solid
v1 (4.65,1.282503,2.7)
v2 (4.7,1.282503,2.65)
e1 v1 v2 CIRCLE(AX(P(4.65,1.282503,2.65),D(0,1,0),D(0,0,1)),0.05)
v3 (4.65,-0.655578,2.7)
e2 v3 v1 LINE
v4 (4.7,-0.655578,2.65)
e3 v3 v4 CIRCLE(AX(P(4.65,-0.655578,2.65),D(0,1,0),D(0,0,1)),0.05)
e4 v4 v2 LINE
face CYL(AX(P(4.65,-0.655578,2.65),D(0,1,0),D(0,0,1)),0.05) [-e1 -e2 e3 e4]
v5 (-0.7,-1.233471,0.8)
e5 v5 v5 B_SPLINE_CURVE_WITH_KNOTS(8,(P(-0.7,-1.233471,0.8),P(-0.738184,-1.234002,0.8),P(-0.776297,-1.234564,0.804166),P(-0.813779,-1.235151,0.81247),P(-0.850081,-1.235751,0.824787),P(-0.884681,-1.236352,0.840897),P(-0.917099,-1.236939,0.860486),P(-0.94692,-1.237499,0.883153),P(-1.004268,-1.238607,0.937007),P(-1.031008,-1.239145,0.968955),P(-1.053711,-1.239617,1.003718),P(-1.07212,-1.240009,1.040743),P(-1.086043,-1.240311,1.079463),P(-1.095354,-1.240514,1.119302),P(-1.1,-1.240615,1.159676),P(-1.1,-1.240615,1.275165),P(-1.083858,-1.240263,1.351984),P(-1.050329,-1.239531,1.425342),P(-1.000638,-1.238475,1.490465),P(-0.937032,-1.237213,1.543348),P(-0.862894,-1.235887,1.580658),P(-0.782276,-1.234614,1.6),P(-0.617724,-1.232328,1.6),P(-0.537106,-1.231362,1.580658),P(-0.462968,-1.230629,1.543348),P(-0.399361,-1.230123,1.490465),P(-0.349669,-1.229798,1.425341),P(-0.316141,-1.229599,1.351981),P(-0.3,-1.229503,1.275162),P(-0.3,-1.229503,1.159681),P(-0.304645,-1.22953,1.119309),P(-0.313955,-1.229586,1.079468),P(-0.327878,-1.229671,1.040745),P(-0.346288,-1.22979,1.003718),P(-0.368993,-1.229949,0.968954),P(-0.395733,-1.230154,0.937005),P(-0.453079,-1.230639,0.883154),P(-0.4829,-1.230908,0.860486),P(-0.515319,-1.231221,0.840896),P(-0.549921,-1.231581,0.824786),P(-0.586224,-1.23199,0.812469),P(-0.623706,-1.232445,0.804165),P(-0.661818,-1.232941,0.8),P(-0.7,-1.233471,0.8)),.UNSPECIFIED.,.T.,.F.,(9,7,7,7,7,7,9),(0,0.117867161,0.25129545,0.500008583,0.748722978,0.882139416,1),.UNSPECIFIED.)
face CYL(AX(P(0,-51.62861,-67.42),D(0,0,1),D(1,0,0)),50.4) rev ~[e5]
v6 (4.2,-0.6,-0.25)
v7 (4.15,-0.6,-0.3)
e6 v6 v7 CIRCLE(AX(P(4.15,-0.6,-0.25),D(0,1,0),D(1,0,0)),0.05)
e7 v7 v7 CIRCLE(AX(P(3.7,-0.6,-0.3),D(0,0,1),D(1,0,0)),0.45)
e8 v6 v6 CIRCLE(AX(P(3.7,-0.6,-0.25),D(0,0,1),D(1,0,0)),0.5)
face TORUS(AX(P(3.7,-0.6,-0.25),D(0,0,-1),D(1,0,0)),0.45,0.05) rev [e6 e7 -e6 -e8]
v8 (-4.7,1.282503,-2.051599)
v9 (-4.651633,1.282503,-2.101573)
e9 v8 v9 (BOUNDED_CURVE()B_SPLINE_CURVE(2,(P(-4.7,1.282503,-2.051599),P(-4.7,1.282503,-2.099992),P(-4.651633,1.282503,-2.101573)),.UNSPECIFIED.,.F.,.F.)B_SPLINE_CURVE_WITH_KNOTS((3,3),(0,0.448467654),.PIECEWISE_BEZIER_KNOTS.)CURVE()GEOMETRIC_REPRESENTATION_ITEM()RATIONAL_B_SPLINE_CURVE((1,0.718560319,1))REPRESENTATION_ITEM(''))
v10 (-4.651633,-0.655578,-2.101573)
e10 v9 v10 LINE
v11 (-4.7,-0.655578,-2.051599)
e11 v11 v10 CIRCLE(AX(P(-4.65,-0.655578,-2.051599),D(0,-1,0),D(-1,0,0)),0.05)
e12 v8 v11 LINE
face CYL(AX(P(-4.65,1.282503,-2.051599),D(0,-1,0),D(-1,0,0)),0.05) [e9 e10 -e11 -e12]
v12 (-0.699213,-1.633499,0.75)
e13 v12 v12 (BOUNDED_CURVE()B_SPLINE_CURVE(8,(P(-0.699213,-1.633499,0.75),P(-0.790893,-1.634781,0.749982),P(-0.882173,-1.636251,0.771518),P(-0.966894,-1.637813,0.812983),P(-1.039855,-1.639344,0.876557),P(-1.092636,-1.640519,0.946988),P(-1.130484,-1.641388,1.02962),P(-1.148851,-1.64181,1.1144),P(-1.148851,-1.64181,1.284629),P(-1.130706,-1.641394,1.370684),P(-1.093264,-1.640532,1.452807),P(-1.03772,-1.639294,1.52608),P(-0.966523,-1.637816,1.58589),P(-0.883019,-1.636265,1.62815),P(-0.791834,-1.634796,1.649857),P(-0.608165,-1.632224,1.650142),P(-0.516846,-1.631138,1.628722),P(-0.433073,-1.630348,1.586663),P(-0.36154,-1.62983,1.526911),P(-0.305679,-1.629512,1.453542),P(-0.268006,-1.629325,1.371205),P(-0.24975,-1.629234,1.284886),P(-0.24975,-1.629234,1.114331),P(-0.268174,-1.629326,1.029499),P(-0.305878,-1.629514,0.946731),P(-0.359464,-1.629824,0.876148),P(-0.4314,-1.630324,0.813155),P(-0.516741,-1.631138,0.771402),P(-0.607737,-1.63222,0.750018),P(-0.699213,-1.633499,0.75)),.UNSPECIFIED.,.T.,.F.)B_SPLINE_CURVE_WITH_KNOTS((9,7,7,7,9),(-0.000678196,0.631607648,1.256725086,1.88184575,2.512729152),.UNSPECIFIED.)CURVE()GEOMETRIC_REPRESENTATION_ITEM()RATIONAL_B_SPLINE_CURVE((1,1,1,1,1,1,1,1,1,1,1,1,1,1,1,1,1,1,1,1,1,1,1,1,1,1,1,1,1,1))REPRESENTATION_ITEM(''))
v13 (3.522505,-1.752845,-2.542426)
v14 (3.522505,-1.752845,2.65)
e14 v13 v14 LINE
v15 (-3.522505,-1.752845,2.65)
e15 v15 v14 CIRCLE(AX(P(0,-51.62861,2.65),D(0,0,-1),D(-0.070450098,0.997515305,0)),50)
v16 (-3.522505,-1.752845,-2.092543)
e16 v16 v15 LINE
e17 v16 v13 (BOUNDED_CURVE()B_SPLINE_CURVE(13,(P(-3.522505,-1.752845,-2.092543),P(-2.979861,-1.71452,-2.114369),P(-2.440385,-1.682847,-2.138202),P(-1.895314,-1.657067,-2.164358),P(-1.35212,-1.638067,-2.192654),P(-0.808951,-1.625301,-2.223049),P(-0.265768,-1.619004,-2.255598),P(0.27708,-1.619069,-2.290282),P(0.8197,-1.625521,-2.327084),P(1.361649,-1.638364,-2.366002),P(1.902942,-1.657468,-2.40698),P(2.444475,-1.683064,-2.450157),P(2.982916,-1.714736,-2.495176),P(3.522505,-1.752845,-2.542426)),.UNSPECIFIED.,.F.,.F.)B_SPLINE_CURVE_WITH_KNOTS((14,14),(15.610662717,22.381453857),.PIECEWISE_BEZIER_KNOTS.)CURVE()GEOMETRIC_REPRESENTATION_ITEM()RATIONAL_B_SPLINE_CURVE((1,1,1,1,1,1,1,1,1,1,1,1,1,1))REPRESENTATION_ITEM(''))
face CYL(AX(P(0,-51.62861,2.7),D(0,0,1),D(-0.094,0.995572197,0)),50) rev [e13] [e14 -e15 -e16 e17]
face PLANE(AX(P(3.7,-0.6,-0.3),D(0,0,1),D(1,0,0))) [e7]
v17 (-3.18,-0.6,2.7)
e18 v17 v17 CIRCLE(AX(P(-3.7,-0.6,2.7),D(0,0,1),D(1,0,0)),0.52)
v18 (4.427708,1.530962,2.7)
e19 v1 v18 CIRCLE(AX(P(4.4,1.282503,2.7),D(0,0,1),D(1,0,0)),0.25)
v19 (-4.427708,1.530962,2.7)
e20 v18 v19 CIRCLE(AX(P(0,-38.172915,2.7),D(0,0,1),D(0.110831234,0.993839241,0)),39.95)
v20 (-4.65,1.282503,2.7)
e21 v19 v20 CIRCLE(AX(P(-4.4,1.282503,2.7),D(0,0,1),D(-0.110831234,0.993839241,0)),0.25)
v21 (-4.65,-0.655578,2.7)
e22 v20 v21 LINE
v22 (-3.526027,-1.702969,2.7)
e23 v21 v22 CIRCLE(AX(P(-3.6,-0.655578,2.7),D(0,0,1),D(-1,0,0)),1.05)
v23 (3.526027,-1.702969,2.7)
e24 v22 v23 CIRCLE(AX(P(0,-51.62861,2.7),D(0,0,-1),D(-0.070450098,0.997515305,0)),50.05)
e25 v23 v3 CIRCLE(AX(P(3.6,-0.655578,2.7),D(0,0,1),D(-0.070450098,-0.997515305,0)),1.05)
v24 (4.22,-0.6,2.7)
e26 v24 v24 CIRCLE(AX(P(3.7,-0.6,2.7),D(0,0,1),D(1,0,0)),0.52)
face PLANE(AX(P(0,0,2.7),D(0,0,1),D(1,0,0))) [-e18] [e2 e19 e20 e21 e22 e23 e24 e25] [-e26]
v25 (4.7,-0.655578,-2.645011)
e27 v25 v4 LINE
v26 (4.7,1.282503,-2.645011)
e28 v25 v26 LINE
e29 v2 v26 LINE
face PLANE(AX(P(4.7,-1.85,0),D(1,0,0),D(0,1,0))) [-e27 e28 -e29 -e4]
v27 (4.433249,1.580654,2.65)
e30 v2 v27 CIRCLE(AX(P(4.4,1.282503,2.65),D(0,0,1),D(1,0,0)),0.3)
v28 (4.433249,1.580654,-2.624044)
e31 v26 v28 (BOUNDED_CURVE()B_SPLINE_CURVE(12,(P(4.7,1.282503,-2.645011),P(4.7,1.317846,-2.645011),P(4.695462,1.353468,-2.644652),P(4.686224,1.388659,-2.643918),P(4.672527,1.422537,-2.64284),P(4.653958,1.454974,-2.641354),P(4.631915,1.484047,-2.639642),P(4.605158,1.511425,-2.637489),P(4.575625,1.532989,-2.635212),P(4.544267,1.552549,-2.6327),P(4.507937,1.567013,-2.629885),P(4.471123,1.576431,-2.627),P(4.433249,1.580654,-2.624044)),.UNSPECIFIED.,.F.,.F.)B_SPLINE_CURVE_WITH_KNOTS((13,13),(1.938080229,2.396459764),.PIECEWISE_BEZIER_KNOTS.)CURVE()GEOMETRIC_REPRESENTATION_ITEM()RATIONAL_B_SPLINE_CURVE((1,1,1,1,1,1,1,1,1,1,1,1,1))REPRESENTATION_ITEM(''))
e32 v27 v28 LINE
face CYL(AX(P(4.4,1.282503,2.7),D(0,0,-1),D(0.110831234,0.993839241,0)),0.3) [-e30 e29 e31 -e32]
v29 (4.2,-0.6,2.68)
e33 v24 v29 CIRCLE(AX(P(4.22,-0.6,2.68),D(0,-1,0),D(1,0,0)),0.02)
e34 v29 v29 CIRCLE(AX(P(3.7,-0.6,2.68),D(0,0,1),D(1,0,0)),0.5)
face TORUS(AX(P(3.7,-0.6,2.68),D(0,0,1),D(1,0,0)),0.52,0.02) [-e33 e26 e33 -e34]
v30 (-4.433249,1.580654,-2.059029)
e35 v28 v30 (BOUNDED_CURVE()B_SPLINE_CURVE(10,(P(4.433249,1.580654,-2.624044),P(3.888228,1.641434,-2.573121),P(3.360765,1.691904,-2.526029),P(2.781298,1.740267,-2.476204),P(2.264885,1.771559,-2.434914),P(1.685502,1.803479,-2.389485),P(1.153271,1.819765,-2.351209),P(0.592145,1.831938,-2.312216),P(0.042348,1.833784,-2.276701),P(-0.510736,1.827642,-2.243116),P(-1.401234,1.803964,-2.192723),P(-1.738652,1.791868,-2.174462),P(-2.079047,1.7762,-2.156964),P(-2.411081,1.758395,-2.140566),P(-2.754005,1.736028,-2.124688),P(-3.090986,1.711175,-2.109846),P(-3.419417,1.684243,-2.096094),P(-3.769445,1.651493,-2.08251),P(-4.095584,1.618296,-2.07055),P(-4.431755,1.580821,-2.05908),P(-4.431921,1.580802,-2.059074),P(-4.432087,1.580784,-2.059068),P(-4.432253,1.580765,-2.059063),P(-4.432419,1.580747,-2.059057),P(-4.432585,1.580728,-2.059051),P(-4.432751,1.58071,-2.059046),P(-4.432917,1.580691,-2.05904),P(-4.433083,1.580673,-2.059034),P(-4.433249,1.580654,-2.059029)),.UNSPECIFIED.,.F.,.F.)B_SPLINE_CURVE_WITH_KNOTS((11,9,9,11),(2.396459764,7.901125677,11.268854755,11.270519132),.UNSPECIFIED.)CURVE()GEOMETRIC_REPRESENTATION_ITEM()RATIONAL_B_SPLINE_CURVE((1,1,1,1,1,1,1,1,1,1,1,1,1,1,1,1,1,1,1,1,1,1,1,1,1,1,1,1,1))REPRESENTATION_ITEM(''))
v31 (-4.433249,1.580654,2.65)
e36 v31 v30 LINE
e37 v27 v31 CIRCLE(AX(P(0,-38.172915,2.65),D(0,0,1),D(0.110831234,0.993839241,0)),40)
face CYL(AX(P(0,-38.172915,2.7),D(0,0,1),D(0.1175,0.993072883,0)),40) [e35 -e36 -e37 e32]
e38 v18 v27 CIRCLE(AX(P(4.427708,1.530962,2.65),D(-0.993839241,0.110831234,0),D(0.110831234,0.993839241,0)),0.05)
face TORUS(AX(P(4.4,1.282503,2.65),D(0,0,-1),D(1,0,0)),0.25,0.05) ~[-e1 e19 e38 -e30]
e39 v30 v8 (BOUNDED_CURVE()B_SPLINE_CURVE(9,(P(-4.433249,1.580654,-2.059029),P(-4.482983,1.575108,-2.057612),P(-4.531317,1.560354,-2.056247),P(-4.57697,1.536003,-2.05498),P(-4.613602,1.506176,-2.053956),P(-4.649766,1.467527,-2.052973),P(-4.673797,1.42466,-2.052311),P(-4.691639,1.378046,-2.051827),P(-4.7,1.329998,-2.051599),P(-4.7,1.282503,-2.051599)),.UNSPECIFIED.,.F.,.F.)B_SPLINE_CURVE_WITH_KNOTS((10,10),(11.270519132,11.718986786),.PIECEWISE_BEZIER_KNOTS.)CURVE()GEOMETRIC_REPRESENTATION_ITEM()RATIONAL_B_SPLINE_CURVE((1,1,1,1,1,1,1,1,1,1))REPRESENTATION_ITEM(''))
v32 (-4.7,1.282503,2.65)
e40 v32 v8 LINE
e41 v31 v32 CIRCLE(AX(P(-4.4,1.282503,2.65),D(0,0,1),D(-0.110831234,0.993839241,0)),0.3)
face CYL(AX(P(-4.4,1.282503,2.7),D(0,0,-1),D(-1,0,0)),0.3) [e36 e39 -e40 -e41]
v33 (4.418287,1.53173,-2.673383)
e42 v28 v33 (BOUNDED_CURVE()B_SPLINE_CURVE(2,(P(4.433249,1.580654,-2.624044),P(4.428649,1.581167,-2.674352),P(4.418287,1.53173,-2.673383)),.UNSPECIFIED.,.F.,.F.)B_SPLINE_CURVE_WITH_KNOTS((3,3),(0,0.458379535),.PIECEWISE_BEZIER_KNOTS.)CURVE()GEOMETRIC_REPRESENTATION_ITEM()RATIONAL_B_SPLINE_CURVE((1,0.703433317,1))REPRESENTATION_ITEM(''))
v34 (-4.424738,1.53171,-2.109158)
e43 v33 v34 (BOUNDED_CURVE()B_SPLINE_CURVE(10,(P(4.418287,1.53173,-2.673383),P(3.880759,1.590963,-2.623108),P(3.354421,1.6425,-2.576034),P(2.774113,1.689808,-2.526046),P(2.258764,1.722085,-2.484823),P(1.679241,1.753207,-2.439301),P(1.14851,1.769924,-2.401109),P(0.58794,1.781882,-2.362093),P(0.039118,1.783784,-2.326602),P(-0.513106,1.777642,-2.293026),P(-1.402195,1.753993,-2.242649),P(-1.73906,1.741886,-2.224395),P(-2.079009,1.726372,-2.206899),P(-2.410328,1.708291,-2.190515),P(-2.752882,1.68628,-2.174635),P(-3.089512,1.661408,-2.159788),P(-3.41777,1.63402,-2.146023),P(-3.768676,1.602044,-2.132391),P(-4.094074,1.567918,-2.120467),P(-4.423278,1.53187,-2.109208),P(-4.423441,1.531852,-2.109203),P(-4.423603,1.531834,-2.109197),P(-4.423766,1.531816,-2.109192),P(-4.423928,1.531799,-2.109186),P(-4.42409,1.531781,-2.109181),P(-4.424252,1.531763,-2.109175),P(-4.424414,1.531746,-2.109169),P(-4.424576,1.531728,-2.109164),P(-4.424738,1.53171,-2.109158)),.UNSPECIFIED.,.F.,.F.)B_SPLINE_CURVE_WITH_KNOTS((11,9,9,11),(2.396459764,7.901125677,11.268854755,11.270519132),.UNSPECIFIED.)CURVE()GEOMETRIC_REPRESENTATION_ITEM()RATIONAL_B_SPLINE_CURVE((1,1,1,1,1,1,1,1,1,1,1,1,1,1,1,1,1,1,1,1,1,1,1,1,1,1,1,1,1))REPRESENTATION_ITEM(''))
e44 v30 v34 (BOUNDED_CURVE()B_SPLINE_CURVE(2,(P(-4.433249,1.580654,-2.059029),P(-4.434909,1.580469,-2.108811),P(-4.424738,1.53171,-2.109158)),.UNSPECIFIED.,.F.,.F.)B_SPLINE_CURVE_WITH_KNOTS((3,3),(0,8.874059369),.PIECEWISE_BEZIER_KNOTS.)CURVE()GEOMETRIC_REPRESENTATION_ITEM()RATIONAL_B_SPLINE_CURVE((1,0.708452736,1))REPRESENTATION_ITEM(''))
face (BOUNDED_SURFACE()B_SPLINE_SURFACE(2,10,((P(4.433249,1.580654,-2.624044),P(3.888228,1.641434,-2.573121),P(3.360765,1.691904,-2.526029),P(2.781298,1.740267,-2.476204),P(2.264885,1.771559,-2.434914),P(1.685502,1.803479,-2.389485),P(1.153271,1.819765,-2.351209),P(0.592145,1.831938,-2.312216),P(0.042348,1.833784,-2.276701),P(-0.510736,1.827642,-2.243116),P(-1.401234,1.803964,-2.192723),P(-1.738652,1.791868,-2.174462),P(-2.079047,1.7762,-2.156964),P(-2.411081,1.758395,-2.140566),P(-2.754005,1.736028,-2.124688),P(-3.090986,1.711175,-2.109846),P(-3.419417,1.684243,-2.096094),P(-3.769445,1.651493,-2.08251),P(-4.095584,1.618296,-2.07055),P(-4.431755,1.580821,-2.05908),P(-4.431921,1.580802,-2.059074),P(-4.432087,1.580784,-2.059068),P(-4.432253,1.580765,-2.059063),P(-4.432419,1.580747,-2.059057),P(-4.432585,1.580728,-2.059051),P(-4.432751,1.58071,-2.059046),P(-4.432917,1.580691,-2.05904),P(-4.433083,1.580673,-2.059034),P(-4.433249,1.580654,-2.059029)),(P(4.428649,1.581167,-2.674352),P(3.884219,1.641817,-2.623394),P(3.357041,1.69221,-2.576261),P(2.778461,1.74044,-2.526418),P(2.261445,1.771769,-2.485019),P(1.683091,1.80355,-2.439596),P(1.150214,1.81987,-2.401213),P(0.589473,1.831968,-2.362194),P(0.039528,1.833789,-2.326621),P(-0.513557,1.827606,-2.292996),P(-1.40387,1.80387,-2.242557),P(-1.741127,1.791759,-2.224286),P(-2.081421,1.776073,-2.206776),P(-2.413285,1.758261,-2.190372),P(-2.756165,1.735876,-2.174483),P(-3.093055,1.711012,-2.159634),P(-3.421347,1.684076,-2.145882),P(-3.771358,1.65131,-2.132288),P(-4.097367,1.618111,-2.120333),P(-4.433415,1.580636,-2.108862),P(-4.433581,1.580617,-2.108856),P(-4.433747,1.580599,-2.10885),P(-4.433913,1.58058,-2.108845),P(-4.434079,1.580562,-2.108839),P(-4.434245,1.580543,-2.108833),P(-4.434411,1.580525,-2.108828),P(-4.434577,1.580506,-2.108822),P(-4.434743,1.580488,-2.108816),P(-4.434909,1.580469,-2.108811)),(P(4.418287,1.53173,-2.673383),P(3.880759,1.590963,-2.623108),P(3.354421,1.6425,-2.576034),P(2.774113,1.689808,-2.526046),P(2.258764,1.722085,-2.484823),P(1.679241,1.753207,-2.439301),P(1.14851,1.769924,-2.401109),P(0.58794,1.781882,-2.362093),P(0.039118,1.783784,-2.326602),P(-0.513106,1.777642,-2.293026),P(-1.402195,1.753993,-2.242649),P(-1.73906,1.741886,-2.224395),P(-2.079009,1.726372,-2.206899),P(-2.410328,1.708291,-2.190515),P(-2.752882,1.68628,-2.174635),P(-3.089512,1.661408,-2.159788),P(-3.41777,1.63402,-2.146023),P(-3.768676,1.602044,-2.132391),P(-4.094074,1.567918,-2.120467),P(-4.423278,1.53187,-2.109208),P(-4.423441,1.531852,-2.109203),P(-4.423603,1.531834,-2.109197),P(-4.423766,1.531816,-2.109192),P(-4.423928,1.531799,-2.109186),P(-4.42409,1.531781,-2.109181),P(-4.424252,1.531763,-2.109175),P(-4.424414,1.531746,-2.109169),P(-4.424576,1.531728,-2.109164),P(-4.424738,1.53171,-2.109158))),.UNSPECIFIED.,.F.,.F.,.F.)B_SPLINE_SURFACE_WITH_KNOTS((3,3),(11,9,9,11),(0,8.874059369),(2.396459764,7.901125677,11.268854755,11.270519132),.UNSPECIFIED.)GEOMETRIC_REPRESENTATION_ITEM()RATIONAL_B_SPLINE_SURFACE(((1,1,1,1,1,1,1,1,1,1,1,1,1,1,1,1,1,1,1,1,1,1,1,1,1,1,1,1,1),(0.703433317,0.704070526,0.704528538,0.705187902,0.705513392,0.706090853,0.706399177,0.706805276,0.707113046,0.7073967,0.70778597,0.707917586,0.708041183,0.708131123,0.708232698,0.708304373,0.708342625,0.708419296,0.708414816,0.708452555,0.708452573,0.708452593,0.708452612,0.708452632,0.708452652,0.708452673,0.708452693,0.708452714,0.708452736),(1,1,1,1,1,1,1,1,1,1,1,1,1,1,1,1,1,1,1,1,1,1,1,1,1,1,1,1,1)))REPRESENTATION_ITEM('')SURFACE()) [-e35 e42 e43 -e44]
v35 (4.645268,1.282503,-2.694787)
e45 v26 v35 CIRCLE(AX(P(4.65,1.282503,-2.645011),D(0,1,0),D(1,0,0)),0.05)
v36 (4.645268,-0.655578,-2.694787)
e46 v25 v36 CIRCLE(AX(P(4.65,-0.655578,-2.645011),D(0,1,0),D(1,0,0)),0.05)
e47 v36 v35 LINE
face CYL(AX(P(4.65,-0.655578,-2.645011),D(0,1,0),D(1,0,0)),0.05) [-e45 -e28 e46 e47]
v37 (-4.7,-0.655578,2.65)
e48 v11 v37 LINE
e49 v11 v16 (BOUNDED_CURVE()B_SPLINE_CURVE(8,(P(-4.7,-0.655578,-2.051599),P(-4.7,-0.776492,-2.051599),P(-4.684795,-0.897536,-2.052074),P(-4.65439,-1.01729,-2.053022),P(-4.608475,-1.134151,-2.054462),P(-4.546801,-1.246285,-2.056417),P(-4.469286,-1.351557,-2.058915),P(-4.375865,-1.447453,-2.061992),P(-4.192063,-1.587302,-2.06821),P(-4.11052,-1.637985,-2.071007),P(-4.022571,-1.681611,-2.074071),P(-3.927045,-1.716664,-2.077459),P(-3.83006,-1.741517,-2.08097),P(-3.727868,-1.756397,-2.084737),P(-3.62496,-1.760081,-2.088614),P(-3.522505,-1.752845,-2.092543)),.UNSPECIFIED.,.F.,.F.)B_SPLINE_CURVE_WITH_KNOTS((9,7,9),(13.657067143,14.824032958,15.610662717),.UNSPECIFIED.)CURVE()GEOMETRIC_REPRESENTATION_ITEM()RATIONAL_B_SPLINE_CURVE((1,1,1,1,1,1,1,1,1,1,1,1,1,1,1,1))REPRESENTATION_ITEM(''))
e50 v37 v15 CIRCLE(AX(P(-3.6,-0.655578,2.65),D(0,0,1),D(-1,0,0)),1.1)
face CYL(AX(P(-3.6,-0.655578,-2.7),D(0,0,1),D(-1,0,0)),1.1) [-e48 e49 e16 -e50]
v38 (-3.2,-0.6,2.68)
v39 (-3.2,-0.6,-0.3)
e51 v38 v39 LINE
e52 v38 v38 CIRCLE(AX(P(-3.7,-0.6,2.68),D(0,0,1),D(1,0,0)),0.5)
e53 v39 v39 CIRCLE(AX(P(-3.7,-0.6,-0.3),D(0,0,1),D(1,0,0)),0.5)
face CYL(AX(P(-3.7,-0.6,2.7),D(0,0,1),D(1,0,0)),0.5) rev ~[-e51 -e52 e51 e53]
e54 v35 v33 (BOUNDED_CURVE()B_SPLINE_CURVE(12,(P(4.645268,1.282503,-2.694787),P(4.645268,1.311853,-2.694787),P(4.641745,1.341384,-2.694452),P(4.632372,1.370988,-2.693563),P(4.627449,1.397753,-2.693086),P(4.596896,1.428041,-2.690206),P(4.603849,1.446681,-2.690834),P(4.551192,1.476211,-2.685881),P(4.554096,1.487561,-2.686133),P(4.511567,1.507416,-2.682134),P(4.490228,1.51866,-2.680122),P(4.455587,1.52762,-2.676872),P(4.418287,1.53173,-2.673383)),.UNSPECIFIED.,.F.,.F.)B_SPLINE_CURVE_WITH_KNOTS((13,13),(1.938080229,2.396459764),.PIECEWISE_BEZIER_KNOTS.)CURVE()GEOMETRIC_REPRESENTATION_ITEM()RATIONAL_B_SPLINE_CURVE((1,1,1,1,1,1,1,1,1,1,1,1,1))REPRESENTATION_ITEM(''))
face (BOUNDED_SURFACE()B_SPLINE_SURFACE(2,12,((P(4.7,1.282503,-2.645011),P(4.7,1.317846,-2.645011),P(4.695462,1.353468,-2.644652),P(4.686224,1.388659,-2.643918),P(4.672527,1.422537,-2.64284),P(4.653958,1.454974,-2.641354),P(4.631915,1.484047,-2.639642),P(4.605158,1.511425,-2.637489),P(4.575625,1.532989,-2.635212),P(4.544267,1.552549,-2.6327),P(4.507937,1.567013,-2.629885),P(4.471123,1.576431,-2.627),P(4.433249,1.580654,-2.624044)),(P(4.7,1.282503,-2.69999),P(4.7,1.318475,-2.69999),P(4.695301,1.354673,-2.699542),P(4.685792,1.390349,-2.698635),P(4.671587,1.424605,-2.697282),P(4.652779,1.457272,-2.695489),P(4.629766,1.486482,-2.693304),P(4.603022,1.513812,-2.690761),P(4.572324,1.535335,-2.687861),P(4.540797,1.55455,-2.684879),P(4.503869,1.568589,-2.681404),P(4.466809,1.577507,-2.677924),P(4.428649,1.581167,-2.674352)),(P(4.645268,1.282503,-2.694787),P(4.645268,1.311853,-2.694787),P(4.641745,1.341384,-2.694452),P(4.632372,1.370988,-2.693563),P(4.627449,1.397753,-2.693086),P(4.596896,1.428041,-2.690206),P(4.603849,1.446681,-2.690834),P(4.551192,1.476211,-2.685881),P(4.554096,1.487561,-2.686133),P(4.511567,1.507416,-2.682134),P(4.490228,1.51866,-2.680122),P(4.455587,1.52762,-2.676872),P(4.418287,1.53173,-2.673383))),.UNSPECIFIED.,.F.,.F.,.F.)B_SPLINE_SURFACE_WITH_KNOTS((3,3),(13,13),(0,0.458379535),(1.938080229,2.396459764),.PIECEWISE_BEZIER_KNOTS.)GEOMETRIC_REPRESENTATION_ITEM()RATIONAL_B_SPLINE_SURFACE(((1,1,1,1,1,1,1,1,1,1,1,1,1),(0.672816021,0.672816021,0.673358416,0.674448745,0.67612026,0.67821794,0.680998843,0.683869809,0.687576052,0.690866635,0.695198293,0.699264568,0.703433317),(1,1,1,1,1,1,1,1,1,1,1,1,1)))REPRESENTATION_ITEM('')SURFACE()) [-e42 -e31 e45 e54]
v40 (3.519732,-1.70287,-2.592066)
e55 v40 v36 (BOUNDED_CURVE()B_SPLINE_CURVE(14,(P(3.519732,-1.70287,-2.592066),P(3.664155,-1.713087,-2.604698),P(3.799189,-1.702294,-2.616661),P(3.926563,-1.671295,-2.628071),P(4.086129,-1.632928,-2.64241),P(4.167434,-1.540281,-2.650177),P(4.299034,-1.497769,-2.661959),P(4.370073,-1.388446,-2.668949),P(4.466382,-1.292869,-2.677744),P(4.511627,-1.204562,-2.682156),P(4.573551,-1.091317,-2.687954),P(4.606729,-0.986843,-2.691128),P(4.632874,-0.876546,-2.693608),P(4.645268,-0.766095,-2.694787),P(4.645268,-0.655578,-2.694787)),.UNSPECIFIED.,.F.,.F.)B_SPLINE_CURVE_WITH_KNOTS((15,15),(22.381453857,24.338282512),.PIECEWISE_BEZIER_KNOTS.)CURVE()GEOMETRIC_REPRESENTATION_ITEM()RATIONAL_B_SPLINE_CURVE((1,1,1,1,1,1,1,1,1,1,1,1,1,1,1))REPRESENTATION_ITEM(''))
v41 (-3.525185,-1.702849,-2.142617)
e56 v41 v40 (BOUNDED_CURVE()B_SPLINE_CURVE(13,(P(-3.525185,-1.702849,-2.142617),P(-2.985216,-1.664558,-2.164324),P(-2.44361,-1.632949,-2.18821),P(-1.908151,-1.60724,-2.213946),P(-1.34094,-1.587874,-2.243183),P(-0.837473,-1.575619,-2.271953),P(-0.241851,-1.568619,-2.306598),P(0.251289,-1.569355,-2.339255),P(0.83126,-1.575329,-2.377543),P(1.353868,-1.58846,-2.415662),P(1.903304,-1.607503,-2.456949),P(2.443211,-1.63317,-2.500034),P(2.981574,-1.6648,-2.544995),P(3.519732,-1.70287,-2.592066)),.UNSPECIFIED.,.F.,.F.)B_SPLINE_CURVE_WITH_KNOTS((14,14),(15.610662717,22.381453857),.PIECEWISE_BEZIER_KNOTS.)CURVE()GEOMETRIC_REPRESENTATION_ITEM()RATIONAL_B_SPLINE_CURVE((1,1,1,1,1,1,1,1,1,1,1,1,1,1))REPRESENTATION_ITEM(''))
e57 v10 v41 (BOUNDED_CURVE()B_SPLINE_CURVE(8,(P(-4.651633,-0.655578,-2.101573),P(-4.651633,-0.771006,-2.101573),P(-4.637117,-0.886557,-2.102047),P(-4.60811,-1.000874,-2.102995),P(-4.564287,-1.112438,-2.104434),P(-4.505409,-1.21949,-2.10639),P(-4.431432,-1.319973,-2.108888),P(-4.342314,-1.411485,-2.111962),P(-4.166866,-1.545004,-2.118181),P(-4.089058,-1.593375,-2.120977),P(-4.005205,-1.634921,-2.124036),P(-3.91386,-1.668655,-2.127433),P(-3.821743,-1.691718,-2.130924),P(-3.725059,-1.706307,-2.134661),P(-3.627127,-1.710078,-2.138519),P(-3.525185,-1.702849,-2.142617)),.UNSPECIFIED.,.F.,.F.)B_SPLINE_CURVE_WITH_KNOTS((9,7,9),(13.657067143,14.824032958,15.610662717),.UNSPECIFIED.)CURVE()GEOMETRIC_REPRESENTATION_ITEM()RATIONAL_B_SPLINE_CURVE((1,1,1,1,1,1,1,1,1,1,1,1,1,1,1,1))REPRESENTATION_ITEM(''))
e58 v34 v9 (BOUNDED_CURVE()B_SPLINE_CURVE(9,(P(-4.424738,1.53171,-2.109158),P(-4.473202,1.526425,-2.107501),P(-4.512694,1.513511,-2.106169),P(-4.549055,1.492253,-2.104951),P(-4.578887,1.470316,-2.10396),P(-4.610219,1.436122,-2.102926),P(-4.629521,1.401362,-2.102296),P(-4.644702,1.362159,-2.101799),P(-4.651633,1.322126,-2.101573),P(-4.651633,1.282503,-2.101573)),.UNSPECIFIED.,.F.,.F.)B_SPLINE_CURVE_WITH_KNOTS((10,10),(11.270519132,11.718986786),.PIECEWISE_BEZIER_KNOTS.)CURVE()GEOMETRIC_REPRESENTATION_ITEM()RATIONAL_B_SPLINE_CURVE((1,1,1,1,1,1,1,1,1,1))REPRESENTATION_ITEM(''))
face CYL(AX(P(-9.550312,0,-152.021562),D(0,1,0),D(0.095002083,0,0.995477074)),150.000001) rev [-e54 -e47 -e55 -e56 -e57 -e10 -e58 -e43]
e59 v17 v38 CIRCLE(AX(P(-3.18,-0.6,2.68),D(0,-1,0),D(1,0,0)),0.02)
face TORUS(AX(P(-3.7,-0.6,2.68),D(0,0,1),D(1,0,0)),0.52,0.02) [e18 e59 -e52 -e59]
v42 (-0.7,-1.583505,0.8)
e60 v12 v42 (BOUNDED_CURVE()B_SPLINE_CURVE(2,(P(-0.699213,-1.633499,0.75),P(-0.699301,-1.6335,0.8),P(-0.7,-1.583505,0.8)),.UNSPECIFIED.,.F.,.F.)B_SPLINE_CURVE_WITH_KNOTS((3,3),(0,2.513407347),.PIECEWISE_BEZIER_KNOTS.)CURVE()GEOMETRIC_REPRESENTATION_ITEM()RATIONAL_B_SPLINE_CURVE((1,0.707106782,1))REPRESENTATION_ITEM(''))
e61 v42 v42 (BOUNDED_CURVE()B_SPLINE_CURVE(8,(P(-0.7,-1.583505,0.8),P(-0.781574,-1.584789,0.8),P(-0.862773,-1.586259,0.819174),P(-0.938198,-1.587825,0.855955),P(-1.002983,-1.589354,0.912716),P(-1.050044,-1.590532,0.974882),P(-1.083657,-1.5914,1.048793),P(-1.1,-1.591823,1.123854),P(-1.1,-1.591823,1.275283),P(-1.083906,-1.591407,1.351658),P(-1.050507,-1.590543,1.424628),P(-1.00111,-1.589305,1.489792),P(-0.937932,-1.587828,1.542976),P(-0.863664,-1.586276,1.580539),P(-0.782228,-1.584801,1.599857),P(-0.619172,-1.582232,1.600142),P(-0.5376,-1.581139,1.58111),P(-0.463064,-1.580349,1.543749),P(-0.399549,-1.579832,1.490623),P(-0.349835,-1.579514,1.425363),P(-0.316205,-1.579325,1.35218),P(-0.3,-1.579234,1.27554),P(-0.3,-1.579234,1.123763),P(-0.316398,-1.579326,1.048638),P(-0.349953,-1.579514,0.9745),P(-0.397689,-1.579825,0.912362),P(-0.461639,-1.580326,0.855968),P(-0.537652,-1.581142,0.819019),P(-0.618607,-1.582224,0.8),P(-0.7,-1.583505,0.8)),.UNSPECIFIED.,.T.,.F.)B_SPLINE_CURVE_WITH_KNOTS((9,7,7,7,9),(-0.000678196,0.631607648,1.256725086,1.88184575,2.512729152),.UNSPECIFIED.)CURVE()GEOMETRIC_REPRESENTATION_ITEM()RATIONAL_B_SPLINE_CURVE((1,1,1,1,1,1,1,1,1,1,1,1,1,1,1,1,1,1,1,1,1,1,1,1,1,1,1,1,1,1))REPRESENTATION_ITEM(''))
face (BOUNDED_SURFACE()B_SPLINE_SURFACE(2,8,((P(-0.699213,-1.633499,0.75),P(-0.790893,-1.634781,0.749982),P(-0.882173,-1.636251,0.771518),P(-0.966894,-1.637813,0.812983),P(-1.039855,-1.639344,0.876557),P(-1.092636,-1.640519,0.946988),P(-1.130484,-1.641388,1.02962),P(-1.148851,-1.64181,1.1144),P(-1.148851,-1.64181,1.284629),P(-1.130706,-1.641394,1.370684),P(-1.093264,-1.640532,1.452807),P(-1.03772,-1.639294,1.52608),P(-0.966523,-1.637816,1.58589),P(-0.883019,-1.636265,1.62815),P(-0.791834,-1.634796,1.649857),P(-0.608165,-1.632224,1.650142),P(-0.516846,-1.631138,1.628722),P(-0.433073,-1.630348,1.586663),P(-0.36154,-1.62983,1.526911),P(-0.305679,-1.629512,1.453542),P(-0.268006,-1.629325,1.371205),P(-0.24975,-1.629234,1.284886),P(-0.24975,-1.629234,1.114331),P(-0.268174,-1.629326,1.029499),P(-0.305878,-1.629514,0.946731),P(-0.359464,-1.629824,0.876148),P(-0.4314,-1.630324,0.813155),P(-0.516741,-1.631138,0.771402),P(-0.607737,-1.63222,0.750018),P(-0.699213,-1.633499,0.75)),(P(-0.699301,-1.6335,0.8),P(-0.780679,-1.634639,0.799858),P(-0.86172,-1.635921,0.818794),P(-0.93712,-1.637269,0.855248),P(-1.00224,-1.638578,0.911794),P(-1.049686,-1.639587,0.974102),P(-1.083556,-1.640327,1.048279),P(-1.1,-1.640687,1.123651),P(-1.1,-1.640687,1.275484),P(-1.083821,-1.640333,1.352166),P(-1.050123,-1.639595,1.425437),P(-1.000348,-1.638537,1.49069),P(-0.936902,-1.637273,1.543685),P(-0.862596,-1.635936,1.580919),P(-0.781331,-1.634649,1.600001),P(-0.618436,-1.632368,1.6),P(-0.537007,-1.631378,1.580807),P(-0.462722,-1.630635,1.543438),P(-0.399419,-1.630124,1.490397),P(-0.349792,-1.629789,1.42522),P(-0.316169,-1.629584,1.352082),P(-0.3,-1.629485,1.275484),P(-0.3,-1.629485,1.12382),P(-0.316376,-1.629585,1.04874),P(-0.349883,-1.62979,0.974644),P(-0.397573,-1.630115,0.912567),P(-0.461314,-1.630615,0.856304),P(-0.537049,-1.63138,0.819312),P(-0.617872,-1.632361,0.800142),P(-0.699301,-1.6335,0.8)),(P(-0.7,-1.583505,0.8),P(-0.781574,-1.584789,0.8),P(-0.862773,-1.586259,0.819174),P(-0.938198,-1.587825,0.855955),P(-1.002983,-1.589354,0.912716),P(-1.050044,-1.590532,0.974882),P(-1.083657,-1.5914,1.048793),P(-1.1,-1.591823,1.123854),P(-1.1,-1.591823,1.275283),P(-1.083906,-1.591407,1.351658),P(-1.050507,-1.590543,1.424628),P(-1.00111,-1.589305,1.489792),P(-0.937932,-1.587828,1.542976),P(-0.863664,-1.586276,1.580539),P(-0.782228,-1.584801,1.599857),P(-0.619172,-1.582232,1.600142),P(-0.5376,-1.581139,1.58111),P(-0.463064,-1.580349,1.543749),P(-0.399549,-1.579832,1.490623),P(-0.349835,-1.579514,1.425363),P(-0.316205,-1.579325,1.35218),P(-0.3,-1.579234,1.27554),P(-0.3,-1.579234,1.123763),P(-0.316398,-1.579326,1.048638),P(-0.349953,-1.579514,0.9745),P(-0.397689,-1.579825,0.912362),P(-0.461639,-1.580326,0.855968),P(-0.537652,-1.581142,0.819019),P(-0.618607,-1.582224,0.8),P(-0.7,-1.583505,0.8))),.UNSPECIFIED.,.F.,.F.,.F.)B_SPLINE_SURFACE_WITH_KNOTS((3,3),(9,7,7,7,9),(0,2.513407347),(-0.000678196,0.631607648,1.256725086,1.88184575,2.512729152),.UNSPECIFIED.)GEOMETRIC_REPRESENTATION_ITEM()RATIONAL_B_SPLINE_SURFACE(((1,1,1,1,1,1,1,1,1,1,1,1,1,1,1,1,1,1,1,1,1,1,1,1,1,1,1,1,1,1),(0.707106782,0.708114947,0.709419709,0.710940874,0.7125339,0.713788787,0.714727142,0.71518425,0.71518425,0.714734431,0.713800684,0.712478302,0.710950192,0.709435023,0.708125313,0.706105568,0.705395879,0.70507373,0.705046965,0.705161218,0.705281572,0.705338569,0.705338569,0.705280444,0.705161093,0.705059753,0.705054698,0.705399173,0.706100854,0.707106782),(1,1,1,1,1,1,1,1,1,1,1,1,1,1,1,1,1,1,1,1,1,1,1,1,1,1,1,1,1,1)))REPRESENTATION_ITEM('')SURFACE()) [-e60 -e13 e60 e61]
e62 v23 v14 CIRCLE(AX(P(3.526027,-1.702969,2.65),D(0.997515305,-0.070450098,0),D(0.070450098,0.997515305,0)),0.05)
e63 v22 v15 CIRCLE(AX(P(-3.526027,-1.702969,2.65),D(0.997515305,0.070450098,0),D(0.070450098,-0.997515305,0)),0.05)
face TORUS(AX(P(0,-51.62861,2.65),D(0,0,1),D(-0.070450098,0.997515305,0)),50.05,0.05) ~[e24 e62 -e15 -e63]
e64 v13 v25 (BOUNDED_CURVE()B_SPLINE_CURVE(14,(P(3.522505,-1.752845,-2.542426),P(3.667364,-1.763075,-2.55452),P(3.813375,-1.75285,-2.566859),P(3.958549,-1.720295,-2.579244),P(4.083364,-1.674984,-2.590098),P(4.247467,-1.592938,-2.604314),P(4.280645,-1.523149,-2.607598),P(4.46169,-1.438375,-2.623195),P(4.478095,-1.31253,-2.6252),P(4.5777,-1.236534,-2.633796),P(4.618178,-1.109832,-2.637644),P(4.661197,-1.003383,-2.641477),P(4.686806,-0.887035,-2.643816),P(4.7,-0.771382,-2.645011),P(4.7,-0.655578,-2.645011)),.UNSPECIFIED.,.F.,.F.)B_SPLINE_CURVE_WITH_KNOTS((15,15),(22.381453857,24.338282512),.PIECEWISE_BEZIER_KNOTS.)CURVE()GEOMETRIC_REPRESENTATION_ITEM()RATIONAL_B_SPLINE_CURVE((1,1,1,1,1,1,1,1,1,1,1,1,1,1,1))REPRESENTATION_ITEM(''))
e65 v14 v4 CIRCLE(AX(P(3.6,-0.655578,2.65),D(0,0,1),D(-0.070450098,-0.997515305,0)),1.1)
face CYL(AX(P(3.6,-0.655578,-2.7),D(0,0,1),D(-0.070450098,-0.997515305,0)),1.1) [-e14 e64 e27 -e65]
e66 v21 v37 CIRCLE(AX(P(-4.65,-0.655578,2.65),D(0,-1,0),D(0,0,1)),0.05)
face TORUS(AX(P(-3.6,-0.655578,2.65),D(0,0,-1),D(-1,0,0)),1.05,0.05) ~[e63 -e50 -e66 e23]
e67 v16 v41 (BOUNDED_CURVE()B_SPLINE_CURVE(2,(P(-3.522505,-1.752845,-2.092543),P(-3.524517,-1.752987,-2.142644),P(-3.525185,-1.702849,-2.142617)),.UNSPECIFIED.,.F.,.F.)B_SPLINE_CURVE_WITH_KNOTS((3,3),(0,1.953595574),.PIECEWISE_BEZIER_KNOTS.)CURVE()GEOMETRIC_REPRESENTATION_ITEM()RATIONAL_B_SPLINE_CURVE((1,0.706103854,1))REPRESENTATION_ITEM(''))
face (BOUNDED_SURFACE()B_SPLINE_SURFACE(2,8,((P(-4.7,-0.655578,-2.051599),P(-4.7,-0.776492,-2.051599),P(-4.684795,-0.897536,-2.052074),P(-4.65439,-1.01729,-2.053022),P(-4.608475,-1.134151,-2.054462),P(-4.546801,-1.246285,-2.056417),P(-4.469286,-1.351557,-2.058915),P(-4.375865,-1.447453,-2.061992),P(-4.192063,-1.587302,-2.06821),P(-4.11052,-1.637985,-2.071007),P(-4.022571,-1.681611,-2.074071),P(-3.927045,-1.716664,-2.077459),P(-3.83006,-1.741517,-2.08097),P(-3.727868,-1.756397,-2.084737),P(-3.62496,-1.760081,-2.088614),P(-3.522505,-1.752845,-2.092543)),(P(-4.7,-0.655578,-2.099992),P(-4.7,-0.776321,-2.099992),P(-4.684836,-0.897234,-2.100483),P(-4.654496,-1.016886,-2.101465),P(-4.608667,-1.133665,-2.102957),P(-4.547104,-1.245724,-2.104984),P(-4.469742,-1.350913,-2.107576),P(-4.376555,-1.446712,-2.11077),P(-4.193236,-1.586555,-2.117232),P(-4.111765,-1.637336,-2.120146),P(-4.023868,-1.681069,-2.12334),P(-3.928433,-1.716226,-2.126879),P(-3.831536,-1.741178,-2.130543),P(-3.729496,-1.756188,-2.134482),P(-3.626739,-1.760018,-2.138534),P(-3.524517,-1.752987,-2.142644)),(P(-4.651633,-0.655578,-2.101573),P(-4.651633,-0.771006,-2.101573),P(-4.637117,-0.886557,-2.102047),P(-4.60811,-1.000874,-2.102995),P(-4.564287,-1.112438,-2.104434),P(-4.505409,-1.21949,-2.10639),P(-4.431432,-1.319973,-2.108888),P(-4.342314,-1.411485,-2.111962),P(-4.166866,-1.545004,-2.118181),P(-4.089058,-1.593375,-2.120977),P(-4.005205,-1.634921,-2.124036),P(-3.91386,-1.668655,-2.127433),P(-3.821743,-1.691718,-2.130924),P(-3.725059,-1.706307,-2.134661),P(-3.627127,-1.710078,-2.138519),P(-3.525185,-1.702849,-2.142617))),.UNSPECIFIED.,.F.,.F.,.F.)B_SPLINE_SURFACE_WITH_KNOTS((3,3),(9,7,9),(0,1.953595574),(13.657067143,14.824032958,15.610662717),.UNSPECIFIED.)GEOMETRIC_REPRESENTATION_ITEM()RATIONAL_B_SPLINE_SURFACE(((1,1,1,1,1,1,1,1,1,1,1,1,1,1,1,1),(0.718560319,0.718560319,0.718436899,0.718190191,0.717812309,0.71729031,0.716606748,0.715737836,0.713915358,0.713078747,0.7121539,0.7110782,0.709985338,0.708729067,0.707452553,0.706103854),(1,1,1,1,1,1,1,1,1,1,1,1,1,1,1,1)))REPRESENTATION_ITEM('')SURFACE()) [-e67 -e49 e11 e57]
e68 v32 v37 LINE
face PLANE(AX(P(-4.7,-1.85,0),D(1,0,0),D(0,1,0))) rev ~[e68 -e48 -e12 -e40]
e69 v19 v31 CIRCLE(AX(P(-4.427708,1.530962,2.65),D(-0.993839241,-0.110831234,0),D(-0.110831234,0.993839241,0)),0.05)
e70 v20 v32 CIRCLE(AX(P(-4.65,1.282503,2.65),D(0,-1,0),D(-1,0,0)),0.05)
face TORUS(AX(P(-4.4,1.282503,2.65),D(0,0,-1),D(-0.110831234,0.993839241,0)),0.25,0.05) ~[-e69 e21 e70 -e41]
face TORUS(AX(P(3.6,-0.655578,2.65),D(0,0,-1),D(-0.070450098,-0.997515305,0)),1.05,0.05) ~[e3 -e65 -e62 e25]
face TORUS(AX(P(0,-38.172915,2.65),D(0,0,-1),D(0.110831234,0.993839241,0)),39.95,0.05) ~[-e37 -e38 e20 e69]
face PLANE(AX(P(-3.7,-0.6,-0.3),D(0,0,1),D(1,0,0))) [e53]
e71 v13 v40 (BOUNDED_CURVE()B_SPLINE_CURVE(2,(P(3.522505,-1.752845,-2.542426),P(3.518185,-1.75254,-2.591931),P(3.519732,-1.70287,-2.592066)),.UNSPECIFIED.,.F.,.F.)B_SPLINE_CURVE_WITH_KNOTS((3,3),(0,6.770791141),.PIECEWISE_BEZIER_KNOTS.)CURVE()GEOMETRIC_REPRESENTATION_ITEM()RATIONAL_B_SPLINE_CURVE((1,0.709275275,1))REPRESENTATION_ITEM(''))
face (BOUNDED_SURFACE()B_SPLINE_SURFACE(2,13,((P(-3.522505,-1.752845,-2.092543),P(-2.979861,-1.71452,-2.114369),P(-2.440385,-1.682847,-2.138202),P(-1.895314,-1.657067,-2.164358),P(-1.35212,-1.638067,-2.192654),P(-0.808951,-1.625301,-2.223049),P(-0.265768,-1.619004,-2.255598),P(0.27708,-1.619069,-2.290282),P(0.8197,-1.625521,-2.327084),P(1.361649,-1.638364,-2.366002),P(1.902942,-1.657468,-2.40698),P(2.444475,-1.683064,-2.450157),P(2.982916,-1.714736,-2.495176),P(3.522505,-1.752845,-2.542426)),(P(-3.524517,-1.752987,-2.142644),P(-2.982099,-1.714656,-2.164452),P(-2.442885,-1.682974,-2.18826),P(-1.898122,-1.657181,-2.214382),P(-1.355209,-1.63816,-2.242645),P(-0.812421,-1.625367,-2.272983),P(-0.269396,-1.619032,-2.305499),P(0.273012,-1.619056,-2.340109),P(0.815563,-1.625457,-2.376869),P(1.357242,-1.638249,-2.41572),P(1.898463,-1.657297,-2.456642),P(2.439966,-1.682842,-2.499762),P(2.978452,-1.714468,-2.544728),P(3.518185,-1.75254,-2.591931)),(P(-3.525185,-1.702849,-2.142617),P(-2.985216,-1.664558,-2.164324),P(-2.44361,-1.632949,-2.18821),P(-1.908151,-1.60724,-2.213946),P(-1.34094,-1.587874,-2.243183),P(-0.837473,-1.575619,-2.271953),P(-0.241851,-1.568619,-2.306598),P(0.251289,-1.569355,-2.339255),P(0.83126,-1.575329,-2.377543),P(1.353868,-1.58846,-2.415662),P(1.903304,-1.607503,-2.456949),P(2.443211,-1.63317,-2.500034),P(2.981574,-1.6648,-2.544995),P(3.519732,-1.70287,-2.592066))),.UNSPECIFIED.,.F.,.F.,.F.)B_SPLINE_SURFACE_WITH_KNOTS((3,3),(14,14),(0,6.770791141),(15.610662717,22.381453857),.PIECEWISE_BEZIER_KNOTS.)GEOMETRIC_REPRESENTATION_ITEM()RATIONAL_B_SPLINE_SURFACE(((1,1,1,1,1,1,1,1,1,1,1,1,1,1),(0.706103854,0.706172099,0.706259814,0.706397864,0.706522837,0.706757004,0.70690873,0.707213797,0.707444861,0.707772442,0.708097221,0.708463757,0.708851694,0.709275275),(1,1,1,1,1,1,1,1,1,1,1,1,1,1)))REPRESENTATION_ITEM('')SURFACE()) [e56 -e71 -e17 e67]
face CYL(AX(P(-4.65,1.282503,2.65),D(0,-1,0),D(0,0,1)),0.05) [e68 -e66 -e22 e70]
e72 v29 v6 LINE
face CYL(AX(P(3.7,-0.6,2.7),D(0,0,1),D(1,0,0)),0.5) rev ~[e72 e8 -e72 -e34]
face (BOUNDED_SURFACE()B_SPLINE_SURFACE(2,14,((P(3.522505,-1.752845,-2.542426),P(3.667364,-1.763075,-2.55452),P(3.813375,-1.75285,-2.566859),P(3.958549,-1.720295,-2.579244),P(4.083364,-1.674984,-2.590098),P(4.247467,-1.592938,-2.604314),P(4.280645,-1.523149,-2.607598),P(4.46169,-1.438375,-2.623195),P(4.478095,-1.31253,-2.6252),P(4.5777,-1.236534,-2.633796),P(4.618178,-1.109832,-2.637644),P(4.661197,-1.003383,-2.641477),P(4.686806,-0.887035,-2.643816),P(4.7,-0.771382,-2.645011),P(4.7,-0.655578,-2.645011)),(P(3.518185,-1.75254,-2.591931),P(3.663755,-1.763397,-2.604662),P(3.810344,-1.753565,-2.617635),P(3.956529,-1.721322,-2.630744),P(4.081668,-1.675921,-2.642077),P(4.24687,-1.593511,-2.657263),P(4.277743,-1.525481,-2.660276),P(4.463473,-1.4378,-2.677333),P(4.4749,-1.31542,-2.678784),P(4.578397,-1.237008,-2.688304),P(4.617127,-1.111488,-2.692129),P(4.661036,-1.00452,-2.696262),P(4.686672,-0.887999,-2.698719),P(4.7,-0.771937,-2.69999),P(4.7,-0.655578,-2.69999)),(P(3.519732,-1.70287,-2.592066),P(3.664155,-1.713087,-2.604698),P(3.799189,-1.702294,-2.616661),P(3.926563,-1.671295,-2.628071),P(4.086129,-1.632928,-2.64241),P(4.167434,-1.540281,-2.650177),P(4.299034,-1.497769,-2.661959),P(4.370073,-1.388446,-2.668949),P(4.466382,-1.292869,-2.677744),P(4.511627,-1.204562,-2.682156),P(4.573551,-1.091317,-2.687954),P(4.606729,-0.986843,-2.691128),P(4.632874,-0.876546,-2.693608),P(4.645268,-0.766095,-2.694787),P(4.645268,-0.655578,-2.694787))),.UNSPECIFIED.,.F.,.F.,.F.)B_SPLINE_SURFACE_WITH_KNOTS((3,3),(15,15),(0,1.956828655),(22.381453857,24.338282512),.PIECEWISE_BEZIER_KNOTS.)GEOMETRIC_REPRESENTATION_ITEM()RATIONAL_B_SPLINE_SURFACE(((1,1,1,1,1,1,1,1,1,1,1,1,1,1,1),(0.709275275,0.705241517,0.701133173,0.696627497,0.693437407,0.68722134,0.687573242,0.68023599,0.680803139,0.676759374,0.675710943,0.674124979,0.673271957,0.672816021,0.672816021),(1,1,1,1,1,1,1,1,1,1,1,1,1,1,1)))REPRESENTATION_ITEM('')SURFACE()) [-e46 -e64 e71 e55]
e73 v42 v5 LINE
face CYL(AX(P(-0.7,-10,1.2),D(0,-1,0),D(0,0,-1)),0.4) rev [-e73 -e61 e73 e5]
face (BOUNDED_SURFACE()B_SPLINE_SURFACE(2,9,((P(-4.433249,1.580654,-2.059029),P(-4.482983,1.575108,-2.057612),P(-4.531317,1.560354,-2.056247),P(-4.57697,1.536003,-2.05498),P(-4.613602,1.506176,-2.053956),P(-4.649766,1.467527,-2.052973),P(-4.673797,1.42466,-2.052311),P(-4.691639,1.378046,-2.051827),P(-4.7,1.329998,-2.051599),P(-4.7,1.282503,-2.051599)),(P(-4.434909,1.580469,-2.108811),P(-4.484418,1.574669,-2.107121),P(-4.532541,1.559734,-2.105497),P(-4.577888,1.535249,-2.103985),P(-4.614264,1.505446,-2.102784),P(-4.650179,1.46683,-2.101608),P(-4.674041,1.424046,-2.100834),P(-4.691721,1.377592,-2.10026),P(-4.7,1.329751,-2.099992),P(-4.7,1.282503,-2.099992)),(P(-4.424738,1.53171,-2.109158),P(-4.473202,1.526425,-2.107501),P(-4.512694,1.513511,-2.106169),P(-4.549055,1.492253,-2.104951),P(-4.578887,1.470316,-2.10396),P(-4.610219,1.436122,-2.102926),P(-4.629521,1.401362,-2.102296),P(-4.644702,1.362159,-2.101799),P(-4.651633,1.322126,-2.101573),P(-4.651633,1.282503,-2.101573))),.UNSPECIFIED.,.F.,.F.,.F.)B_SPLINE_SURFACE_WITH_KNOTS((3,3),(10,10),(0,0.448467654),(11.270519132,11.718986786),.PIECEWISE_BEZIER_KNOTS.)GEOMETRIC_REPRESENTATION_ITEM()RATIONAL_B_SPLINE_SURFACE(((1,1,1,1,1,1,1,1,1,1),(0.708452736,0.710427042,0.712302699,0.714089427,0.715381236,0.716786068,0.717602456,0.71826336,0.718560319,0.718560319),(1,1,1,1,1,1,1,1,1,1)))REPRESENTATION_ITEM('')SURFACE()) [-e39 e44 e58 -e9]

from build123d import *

# Parameters (mm, degrees)
SKETCH1_W               = 9.4
SKETCH1_H               = 3.7
BOSS_EXTRUDE1_DEPTH     = 2.7
CUT_EXTRUDE1_DEPTH      = 15.2
FILLET1_R               = 1.1
FILLET2_R               = 0.3
SKETCH3_R               = 0.5
CUT_EXTRUDE2_DEPTH      = 3
FILLET4_R               = 0.02
CUT_EXTRUDE3_DEPTH      = 5
FILLET5_R               = 0.05
CUT_EXTRUDE4_REACH      = 17.72
CUT_EXTRUDE4_END_RADIUS = 50.4
CUT_EXTRUDE4_START      = -10
SKETCH5_R               = 0.4
FILLET6_R               = 0.05


with BuildPart() as part:
    # Sketch1 → Boss-Extrude1 (new, symmetric)
    with BuildSketch(Plane.XY):
        Rectangle(SKETCH1_W, SKETCH1_H)
    extrude(amount=BOSS_EXTRUDE1_DEPTH, both=True)

    # Sketch2 → Cut-Extrude1 (cut)
    with BuildSketch(Plane.XY.offset(2.7)):
        with BuildLine():
            Line((-4.7, 1.55), (-7.120690005, 4.011417256))
            Line((-7.120690005, 4.011417256), (5.535860742, 3.886722174))
            Line((5.535860742, 3.886722174), (4.7, 1.55))
            ThreePointArc((4.7, 1.55), (0, 1.827084699), (-4.7, 1.55))
        make_face()
        with BuildLine():
            Line((4.7, -1.85), (0.350623614, -3.782025322))
            Line((0.350623614, -3.782025322), (-4.7, -1.85))
            ThreePointArc((-4.7, -1.85), (0, -1.628609864), (4.7, -1.85))
        make_face()
    extrude(amount=-CUT_EXTRUDE1_DEPTH, mode=Mode.SUBTRACT)

    # Fillet1
    fillet1_edges = [part.edges().sort_by_distance(p)[0] for p in [
        (4.7, -1.85, 0),
        (-4.7, -1.85, 0),
    ]]
    fillet(fillet1_edges, radius=FILLET1_R)

    # Fillet2
    fillet2_edges = [part.edges().sort_by_distance(p)[0] for p in [
        (4.7, 1.55, 0),
        (-4.7, 1.55, 0),
    ]]
    fillet(fillet2_edges, radius=FILLET2_R)

    # Sketch3 → Cut-Extrude2 (cut)
    with BuildSketch(Plane.XY.offset(2.7)):
        with Locations((3.7, -0.6)):
            Circle(SKETCH3_R)
        with Locations((-3.7, -0.6)):
            Circle(SKETCH3_R)
    extrude(amount=-CUT_EXTRUDE2_DEPTH, mode=Mode.SUBTRACT)

    # Fillet4
    fillet4_edges = [part.edges().sort_by_distance(p)[0] for p in [
        (3.2, -0.6, 2.7),
        (-4.2, -0.6, 2.7),
    ]]
    fillet(fillet4_edges, radius=FILLET4_R)

    # Sketch4 → Cut-Extrude3 (cut, symmetric)
    with BuildSketch(Plane(origin=(0, 0, 0), x_dir=(1, 0, 0), z_dir=(0, 1, 0))):
        with BuildLine():
            Line((-4.7, 2.1), (-6.612719149, 3.613907535))
            Line((-6.612719149, 3.613907535), (6.420677859, 4.474089961))
            Line((6.420677859, 4.474089961), (4.7, 2.7))
            ThreePointArc((4.7, 2.7), (0.004710726, 2.326198627), (-4.7, 2.1))
        make_face()
    extrude(amount=CUT_EXTRUDE3_DEPTH, both=True, mode=Mode.SUBTRACT)

    # Fillet5
    fillet5_edges = [part.edges().sort_by_distance(p)[0] for p in [
        (4.7, 0.3134624, -2.7),
        (4.7, 0.3134624, 2.7),
        (0, -1.628609864, 2.7),
        (-4.349918456, -1.460327621, 2.7),
        (4.349918456, -1.460327621, 2.7),
        (0, 1.827084699, 2.7),
        (-4.7, 0.3134624, 2.7),
        (-4.623578634, 1.482534062, 2.7),
        (4.623578634, 1.482534062, 2.7),
        (3.2, -0.6, -0.3),
        (-4.623553452, 1.482562201, -2.102492735),
        (4.349071598, -1.461115949, -2.666925627),
        (-4.349757648, -1.460477444, -2.11174073),
        (4.623384041, 1.482751346, -2.692708087),
        (0.004177998, 1.827084481, -2.326164624),
        (0.002641899, -1.628609931, -2.326066603),
        (-4.7, 0.3134624, -2.1),
    ]]
    fillet(fillet5_edges, radius=FILLET5_R)

    # Cut-Extrude4: up to this cylinder (the profile starts inside it)
    cut_extrude4_end = Plane(origin=(0, -51.628609864, 1.2), z_dir=(0, 0, 1)) * Cylinder(CUT_EXTRUDE4_END_RADIUS, 137.24, mode=Mode.PRIVATE)
    # Sketch5 → Cut-Extrude4 (cut, up to the surface)
    with BuildSketch(Plane(origin=(0, 0, 0), x_dir=(1, 0, 0), z_dir=(0, 1, 0)).offset(CUT_EXTRUDE4_START), mode=Mode.PRIVATE) as cut_extrude4_sk1:
        with Locations(Location((-0.7, -1.2, 0), (0, 0, 90))):
            Circle(SKETCH5_R)
    cut_extrude4_tool1 = extrude(cut_extrude4_sk1.sketch, amount=CUT_EXTRUDE4_REACH, mode=Mode.PRIVATE) & cut_extrude4_end
    add(cut_extrude4_tool1.solids().sort_by_distance((-0.7, -10, 1.2))[0], mode=Mode.SUBTRACT)

    # Fillet6
    fillet6_edges = [part.edges().sort_by_distance(p)[0] for p in [
        (-0.700029875, -1.633510522, 1.599999999),
    ]]
    fillet(fillet6_edges, radius=FILLET6_R)


solid = part.part
